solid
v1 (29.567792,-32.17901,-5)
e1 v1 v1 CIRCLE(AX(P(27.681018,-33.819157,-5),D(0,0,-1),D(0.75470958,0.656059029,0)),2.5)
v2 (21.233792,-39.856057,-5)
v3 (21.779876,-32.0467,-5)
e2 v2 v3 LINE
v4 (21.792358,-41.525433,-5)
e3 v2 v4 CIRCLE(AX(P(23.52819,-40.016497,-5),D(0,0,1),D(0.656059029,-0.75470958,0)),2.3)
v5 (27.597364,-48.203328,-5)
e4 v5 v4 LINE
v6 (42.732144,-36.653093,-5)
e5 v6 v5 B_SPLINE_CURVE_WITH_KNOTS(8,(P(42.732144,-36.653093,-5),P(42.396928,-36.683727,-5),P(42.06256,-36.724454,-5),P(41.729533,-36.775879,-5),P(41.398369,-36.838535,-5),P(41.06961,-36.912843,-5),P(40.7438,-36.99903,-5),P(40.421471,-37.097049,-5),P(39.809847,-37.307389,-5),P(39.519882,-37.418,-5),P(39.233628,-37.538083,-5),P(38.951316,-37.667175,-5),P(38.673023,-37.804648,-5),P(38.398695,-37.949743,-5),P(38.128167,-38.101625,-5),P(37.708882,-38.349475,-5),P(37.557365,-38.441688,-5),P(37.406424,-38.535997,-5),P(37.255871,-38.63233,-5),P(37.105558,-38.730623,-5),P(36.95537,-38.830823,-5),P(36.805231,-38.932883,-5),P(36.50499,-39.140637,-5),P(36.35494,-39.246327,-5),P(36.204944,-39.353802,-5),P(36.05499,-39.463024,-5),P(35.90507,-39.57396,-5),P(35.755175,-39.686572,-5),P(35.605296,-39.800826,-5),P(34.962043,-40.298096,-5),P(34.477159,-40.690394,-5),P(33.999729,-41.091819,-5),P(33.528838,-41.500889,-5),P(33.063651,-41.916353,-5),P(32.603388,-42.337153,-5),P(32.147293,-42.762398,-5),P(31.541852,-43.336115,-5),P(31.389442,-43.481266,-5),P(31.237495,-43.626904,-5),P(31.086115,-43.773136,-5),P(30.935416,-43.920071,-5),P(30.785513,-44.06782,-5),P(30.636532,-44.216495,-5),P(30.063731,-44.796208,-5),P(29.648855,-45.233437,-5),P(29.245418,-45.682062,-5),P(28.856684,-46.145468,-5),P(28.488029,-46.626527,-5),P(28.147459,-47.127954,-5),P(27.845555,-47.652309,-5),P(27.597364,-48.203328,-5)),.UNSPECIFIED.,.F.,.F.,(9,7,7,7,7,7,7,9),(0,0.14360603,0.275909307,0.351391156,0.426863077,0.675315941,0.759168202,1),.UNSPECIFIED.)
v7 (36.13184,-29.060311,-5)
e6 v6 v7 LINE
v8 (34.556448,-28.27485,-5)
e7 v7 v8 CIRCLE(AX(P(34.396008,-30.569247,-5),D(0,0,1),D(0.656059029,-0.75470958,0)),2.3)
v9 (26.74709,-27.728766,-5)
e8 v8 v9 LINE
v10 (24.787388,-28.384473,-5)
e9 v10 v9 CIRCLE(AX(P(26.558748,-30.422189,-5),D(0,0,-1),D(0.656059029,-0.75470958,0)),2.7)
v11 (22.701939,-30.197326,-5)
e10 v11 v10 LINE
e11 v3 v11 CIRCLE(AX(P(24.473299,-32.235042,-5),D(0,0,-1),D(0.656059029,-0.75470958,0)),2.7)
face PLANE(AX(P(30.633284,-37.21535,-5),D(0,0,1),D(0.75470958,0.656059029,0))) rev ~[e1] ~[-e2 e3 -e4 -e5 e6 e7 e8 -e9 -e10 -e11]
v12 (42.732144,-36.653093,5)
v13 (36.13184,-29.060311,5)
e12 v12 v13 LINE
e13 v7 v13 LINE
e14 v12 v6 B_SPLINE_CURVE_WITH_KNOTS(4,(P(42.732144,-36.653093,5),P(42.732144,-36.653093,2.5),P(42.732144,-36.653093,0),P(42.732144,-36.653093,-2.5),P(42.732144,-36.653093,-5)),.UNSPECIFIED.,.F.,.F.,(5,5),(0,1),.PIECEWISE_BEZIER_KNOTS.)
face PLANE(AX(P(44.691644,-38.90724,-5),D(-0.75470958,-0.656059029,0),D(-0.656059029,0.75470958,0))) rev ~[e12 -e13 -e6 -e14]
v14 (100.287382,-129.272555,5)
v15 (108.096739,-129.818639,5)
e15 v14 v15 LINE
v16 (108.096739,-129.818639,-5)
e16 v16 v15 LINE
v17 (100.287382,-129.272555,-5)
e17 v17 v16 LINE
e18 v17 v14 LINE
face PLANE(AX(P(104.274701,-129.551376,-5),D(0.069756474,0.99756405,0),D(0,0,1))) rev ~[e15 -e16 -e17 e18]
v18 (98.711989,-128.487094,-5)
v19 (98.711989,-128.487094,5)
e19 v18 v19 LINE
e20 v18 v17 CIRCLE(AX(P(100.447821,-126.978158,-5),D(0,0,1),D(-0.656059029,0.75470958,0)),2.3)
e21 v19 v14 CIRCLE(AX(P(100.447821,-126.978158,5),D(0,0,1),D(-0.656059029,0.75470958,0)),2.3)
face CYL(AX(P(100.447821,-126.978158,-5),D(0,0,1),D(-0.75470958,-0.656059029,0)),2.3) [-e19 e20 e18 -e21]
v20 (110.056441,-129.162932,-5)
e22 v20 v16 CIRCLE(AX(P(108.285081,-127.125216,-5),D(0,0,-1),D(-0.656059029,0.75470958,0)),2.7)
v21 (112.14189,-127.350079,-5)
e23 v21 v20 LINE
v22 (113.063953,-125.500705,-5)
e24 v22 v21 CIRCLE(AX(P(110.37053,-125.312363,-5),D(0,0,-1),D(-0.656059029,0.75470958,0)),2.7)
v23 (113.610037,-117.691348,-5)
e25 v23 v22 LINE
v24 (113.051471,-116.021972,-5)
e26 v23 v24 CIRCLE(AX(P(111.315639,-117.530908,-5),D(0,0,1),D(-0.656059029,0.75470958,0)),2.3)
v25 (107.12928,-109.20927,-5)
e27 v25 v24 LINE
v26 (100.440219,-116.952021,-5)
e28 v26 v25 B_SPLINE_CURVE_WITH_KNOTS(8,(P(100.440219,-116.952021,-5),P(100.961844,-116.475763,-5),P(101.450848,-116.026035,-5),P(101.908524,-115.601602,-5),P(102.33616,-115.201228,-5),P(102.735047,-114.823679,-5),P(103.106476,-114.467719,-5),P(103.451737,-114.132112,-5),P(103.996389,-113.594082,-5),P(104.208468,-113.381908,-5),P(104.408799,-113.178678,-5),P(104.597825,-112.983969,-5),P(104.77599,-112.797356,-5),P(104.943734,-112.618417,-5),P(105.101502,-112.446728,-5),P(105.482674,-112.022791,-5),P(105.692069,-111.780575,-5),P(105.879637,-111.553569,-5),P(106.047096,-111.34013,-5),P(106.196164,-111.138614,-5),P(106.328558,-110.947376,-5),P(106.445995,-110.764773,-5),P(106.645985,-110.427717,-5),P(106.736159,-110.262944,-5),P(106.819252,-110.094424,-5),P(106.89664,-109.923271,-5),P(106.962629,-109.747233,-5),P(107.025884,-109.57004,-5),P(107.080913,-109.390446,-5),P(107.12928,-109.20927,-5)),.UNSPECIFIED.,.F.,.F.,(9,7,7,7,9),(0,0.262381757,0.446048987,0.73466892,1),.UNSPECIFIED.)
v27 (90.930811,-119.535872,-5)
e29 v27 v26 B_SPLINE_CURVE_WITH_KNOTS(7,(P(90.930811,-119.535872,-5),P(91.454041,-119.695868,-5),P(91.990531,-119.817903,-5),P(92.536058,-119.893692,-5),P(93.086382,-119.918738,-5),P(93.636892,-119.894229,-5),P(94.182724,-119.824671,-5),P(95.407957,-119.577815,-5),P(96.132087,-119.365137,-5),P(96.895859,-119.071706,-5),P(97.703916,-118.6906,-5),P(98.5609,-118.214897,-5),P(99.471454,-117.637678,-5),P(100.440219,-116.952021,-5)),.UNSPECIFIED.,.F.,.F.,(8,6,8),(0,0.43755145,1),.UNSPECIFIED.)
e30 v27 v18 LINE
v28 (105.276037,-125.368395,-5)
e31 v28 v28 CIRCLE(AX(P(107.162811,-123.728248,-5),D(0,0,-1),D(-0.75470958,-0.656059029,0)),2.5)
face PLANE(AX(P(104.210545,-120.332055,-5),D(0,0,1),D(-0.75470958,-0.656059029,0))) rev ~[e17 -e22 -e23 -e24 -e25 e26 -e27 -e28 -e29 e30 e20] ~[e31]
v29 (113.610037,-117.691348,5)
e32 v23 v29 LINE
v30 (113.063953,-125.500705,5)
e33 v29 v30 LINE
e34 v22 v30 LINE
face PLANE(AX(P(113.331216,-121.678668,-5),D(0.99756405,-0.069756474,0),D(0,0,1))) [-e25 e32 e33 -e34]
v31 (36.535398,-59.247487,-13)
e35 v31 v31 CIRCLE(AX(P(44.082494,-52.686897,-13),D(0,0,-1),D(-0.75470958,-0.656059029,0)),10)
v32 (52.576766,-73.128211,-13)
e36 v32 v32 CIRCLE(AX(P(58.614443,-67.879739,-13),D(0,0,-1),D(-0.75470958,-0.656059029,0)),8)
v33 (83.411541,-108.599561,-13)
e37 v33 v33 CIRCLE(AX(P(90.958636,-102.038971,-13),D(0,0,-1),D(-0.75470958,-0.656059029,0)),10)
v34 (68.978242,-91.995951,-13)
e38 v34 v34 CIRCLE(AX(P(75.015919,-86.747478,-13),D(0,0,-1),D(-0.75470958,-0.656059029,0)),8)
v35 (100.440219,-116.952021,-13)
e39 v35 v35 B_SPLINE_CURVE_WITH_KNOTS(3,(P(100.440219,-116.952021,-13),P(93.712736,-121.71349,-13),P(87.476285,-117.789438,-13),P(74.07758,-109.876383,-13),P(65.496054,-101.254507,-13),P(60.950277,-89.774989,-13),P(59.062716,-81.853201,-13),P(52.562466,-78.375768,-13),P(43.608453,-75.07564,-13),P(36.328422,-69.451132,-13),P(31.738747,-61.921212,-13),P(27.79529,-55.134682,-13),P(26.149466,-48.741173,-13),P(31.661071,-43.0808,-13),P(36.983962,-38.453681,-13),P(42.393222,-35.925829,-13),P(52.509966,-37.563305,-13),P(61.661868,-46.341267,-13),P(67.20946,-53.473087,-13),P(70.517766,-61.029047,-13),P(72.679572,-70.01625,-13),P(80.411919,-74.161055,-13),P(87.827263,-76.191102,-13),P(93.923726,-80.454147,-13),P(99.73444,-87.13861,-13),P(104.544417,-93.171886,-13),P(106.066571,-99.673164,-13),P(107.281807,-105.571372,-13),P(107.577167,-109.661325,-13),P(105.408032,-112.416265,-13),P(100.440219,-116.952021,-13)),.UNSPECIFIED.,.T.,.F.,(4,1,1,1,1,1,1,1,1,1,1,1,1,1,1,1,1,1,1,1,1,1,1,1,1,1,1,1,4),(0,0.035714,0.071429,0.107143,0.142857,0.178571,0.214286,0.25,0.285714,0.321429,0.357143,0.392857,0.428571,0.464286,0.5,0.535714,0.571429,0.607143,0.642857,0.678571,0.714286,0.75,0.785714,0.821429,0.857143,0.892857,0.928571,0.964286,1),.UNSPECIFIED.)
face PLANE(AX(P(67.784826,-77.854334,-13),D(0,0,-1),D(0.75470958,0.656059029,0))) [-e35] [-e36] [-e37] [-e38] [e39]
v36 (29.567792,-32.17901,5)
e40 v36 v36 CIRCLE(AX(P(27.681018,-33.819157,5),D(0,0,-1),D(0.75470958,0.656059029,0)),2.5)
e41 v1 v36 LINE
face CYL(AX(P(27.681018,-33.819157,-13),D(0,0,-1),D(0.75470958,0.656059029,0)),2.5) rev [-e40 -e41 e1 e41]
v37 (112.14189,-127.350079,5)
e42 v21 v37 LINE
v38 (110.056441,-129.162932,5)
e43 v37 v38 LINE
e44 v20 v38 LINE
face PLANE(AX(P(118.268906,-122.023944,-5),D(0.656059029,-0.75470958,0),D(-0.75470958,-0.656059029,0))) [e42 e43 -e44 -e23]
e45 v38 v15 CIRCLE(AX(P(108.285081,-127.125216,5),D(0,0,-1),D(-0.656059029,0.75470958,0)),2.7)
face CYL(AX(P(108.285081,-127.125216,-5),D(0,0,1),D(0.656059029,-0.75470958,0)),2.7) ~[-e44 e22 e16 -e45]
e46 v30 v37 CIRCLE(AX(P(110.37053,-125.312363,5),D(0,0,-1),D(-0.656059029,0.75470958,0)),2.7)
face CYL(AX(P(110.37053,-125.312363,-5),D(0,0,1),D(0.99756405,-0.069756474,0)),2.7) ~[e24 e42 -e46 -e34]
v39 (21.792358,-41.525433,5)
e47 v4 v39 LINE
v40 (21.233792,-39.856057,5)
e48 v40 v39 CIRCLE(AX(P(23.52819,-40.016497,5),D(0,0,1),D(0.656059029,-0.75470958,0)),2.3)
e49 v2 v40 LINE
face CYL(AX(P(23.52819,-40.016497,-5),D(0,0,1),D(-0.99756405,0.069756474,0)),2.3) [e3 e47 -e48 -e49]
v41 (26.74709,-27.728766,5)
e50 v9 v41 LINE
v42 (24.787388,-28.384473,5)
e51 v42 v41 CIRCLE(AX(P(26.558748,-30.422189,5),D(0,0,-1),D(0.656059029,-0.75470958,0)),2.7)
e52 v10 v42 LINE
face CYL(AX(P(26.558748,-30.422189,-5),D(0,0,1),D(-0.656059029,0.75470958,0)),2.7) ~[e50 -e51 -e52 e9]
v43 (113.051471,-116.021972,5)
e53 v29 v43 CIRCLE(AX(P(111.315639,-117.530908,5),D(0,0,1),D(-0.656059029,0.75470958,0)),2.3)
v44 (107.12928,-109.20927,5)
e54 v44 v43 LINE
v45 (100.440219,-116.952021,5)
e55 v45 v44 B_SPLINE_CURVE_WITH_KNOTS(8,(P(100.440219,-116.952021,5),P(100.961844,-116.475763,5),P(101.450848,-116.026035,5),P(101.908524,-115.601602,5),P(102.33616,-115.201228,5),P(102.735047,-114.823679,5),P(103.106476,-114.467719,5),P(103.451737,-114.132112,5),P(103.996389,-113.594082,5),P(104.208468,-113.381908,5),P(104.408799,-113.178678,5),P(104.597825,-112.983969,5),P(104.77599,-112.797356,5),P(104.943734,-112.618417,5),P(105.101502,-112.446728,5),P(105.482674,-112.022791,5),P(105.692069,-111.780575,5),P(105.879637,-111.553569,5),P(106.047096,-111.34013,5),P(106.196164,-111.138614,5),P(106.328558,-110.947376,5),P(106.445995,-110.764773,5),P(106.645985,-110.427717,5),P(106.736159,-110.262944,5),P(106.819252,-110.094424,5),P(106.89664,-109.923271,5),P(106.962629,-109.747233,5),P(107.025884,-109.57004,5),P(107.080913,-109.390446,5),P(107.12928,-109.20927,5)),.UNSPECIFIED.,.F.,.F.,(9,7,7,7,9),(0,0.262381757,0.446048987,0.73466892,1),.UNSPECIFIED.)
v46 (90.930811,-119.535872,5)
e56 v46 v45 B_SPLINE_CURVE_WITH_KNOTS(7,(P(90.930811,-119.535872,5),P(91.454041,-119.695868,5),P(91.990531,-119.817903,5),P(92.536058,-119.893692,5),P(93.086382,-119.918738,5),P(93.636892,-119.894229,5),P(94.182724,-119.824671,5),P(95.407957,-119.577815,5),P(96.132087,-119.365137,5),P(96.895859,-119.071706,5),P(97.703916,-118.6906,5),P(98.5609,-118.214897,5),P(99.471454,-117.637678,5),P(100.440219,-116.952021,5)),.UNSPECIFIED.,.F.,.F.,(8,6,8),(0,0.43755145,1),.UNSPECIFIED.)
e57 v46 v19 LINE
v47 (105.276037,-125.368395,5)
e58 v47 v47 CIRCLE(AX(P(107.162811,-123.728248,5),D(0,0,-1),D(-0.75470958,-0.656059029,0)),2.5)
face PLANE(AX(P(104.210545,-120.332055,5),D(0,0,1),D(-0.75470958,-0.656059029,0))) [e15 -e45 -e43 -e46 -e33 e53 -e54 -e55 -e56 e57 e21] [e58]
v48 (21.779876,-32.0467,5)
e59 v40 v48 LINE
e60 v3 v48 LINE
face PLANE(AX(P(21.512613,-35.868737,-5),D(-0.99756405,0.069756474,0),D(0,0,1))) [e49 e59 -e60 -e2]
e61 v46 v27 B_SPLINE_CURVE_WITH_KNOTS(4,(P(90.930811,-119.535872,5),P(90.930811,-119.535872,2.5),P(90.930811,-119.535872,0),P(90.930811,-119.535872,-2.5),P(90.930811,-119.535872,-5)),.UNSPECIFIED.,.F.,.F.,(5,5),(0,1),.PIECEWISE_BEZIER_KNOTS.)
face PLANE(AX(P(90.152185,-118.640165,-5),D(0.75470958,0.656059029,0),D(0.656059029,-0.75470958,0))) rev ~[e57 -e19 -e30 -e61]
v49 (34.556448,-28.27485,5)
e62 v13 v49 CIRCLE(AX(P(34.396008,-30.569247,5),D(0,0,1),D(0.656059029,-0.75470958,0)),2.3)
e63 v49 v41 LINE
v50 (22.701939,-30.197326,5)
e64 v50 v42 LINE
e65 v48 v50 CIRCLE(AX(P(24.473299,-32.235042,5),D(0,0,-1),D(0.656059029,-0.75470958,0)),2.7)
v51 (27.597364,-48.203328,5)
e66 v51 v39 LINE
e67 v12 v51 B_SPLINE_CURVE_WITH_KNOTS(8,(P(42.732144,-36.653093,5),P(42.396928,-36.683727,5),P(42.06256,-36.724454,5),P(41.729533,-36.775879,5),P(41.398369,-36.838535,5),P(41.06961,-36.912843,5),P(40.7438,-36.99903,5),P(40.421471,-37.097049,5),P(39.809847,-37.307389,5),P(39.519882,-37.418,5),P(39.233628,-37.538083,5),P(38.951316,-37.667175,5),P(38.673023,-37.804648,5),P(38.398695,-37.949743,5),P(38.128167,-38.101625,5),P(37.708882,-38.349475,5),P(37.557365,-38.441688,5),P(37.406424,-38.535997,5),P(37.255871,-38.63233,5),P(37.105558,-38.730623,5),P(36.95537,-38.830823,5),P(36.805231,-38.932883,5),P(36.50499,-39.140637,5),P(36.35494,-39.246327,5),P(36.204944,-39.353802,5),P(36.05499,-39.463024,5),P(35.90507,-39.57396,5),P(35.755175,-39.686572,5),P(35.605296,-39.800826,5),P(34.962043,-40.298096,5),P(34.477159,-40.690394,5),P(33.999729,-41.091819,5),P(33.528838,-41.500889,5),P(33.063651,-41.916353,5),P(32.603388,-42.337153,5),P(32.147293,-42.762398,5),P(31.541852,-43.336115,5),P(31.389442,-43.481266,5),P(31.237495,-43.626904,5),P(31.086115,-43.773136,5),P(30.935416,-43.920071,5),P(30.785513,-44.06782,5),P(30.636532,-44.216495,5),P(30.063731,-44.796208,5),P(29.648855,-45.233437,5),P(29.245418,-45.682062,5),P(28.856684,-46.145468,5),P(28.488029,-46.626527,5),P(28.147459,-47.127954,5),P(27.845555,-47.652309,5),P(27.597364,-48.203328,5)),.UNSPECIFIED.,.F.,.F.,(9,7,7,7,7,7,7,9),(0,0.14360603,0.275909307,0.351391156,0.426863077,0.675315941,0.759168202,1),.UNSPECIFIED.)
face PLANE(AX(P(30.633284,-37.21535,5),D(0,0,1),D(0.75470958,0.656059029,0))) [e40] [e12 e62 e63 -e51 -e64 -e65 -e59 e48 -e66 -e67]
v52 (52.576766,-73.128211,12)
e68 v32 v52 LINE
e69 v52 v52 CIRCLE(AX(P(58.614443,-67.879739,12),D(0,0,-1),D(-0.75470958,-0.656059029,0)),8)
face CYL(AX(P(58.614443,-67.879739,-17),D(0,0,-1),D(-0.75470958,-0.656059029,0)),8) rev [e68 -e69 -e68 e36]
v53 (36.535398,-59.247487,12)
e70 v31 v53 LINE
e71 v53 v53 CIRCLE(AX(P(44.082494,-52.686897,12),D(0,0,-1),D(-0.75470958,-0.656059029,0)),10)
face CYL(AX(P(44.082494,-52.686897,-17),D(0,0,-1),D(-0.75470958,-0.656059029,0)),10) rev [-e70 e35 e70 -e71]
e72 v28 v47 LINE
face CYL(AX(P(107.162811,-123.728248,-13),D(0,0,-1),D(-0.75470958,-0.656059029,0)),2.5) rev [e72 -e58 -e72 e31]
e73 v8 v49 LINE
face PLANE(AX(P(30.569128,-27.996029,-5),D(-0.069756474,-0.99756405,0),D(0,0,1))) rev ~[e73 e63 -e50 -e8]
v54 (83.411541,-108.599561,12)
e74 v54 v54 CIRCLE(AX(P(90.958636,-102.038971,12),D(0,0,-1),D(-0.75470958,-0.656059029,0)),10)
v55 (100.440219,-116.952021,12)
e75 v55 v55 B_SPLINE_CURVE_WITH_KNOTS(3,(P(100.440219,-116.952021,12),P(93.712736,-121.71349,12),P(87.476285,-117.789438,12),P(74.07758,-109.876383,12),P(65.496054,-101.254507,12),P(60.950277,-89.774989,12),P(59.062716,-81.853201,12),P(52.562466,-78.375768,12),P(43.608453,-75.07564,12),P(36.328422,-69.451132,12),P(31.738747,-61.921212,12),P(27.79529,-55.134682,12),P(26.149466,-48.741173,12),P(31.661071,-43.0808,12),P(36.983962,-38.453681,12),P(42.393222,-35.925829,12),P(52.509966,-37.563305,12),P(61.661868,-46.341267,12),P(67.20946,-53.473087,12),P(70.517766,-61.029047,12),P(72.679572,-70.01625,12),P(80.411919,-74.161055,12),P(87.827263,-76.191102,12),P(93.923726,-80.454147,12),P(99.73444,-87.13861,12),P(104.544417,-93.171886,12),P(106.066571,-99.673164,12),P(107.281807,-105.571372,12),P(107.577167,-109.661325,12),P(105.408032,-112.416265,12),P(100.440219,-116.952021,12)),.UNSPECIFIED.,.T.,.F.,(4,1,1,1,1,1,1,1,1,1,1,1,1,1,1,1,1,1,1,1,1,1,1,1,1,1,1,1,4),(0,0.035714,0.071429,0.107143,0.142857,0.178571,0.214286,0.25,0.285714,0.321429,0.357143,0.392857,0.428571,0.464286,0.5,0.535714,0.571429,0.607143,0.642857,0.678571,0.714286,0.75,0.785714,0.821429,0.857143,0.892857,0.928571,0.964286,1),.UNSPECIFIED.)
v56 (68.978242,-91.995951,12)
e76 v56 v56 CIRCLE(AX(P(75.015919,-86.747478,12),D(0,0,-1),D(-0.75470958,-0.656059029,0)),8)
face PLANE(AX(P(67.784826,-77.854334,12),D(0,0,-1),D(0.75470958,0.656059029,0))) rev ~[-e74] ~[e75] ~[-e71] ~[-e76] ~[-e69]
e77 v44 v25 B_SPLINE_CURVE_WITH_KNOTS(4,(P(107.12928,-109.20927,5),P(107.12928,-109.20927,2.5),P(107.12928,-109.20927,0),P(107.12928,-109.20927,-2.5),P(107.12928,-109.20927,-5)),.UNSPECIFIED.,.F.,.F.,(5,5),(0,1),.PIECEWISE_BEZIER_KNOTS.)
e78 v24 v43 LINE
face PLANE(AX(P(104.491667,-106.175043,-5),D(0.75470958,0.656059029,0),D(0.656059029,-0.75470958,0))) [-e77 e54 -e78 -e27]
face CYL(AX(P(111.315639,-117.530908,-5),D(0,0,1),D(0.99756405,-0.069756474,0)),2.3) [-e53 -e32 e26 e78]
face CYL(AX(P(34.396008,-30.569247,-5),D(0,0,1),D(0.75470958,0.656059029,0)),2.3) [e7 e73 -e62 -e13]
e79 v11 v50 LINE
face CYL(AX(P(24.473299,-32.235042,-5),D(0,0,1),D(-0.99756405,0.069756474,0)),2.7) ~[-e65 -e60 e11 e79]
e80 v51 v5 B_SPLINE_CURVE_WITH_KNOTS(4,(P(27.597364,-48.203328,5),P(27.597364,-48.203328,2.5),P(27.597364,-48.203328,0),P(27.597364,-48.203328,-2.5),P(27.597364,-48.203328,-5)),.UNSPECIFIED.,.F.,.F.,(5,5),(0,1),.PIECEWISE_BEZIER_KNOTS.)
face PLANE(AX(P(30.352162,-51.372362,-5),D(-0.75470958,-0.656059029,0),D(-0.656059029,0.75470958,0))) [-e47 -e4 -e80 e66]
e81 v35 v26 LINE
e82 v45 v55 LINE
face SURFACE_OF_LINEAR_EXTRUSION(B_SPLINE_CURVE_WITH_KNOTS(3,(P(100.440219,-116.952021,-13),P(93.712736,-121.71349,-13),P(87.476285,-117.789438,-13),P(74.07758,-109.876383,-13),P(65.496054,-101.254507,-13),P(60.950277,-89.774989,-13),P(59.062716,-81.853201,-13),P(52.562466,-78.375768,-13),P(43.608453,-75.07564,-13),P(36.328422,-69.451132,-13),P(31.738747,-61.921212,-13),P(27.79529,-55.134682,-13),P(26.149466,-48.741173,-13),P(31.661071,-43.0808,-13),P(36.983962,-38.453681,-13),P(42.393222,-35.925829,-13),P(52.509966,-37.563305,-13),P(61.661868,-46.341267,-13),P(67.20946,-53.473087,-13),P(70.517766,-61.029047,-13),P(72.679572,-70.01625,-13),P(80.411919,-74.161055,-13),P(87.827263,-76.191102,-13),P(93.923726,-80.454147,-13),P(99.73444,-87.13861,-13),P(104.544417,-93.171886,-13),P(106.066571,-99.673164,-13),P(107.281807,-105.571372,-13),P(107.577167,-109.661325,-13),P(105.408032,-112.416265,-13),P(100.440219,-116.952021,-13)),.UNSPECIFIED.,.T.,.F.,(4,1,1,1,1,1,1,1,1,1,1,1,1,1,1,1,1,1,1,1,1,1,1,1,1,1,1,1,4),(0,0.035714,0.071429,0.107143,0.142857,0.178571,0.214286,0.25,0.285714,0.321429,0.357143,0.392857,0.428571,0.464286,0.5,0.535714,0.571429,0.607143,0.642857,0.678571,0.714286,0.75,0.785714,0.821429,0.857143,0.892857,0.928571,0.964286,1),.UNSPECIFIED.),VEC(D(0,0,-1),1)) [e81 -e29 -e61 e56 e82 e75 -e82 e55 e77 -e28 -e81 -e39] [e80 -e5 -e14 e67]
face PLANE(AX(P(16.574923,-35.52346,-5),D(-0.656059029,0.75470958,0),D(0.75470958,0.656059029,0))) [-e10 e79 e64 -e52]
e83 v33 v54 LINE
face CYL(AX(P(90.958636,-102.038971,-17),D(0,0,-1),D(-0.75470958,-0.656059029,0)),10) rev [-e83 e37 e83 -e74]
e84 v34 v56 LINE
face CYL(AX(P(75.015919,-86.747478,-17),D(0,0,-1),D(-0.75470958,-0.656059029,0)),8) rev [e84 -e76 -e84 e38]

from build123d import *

# Parameters (mm, degrees)
CYLINDER034_R             = 8
CYLINDER034_DEPTH         = 36
CYLINDER035_R             = 8
CYLINDER035_DEPTH         = 36
CYLINDER036_R             = 10
CYLINDER036_DEPTH         = 36
CYLINDER033_R             = 10
CYLINDER033_DEPTH         = 36
CYLINDER031_R             = 2.5
CYLINDER031_DEPTH         = 26
BOX011_W                  = 19
BOX011_H                  = 21
BOX011_DEPTH              = 10
CHAMFER002_SIZE           = 7
FILLET002_R               = 2.7
FILLET003_R               = 2.3
EXTRUDE001_DEPTH          = 25
CYLINDER032_R             = 2.5
CYLINDER032_DEPTH         = 26
BOX012_W                  = 19
BOX012_H                  = 21
BOX012_DEPTH              = 10
CHAMFER003_SIZE           = 7
FILLET005_R               = 2.7
FILLET004_R               = 2.3
FILLET004_PLACEMENT_ANGLE = 180
CUT033_PLACEMENT_ANGLE    = 221


with BuildPart() as cylinder034:
    # Cylinder034 → Cylinder034 (new body)
    with BuildSketch(Plane(origin=(15, -126, -17), x_dir=(1, 0, 0), z_dir=(0, 0, 1))):
        Circle(CYLINDER034_R)
    extrude(amount=CYLINDER034_DEPTH)


with BuildPart() as cylinder035:
    # Cylinder035 → Cylinder035 (new body)
    with BuildSketch(Plane(origin=(15, -151, -17), x_dir=(1, 0, 0), z_dir=(0, 0, 1))):
        Circle(CYLINDER035_R)
    extrude(amount=CYLINDER035_DEPTH)


with BuildPart() as cylinder036:
    # Cylinder036 → Cylinder036 (new body)
    with BuildSketch(Plane(origin=(16, -172, -17), x_dir=(1, 0, 0), z_dir=(0, 0, 1))):
        Circle(CYLINDER036_R)
    extrude(amount=CYLINDER036_DEPTH)


with BuildPart() as cylinder033:
    # Cylinder033 → Cylinder033 (new body)
    with BuildSketch(Plane(origin=(13, -104, -17), x_dir=(1, 0, 0), z_dir=(0, 0, 1))):
        Circle(CYLINDER033_R)
    extrude(amount=CYLINDER033_DEPTH)


with BuildPart() as cylinder031:
    # Cylinder031 → Cylinder031 (new body)
    with BuildSketch(Plane(origin=(15, -77, -13), x_dir=(1, 0, 0), z_dir=(0, 0, 1))):
        Circle(CYLINDER031_R)
    extrude(amount=CYLINDER031_DEPTH)


with BuildPart() as fillet003:
    # Box011 → Box011 (new body)
    with BuildSketch(Plane(origin=(6, -92, -5), x_dir=(1, 0, 0), z_dir=(0, 0, 1))):
        with Locations((9.5, 10.5)):
            Rectangle(BOX011_W, BOX011_H)
    extrude(amount=BOX011_DEPTH)

    # Chamfer002
    chamfer002_edges = [fillet003.edges().sort_by_distance(p)[0] for p in [
        (6, -71, 0),
        (25, -71, 0),
    ]]
    chamfer(chamfer002_edges, length=CHAMFER002_SIZE)

    # Fillet002
    fillet002_edges = [fillet003.edges().sort_by_distance(p)[0] for p in [
        (13, -71, 0),
        (18, -71, 0),
    ]]
    fillet(fillet002_edges, radius=FILLET002_R)


with BuildPart() as fillet003_1:
    # Fillet002 placement: moved
    add(fillet003.part.moved(Location((-0.5, 0, 0))))

    # Cut028: cut Cylinder031
    add(cylinder031.part, mode=Mode.SUBTRACT)

    # Fillet003
    fillet003_edges = [fillet003_1.edges().sort_by_distance(p)[0] for p in [
        (5.5, -78, 0),
        (24.5, -78, 0),
    ]]
    fillet(fillet003_edges, radius=FILLET003_R)


with BuildPart() as extrude001:
    # Sketch001 → Extrude001 (new body)
    with BuildSketch(Plane.XY):
        with BuildLine():
            add(Edge.make_bspline(
                [(15.628, -86.5245), (23.8291, -87.3446), (25.9614, -94.3976), (30.8821, -109.16), (31.7022, -121.297), (27.6017, -132.943), (23.8291, -140.16), (26.4535, -147.049), (31.0461, -155.414), (32.8504, -164.435), (31.3742, -173.129), (29.898, -180.838), (26.9456, -186.743), (19.0724, -187.399), (12.0195, -187.399), (6.27866, -185.758), (-0.282263, -177.885), (-1.43043, -165.256), (-0.938356, -156.234), (1.52199, -148.361), (5.78659, -140.16), (2.67015, -131.959), (-1.59445, -125.562), (-3.3987, -118.345), (-3.3987, -109.488), (-3.07065, -101.779), (0.045788, -95.8738), (2.99821, -90.6251), (5.45855, -87.3446), (8.90302, -86.6885), (15.628, -86.5245)],
                knots=[0, 0, 0, 0, 0.035714, 0.071429, 0.107143, 0.142857, 0.178571, 0.214286, 0.25, 0.285714, 0.321429, 0.357143, 0.392857, 0.428571, 0.464286, 0.5, 0.535714, 0.571429, 0.607143, 0.642857, 0.678571, 0.714286, 0.75, 0.785714, 0.821429, 0.857143, 0.892857, 0.928571, 0.964286, 1, 1, 1, 1], degree=3))
        make_face()
    extrude(amount=EXTRUDE001_DEPTH)


with BuildPart() as extrude001_1:
    # Extrude001 placement: moved
    add(extrude001.part.moved(Location((0, 0, -13))))


with BuildPart() as cylinder032:
    # Cylinder032 → Cylinder032 (new body)
    with BuildSketch(Plane(origin=(15, -77, -13), x_dir=(1, 0, 0), z_dir=(0, 0, 1))):
        Circle(CYLINDER032_R)
    extrude(amount=CYLINDER032_DEPTH)


with BuildPart() as cut033:
    # Box012 → Box012 (new body)
    with BuildSketch(Plane(origin=(6, -92, -5), x_dir=(1, 0, 0), z_dir=(0, 0, 1))):
        with Locations((9.5, 10.5)):
            Rectangle(BOX012_W, BOX012_H)
    extrude(amount=BOX012_DEPTH)

    # Chamfer003
    chamfer003_edges = [cut033.edges().sort_by_distance(p)[0] for p in [
        (6, -71, 0),
        (25, -71, 0),
    ]]
    chamfer(chamfer003_edges, length=CHAMFER003_SIZE)

    # Fillet005
    fillet005_edges = [cut033.edges().sort_by_distance(p)[0] for p in [
        (13, -71, 0),
        (18, -71, 0),
    ]]
    fillet(fillet005_edges, radius=FILLET005_R)


with BuildPart() as cut033_1:
    # Fillet005 placement: moved
    add(cut033.part.moved(Location((-0.5, 0, 0))))

    # Cut029: cut Cylinder032
    add(cylinder032.part, mode=Mode.SUBTRACT)

    # Fillet004
    fillet004_edges = [cut033_1.edges().sort_by_distance(p)[0] for p in [
        (5.5, -78, 0),
        (24.5, -78, 0),
    ]]
    fillet(fillet004_edges, radius=FILLET004_R)


with BuildPart() as cut033_2:
    # Fillet004 placement: moved
    add(cut033_1.part.moved(Location((31, -274, 0))).rotate(Axis((31, -274, 0), (0, 0, 1)), FILLET004_PLACEMENT_ANGLE))

    # Fusion015: union Fillet003, Extrude001
    add(fillet003_1.part)
    add(extrude001_1.part)

    # Cut030: cut Cylinder033
    add(cylinder033.part, mode=Mode.SUBTRACT)

    # Cut031: cut Cylinder036
    add(cylinder036.part, mode=Mode.SUBTRACT)

    # Cut032: cut Cylinder035
    add(cylinder035.part, mode=Mode.SUBTRACT)

    # Cut033: cut Cylinder034
    add(cylinder034.part, mode=Mode.SUBTRACT)


with BuildPart() as cut033_3:
    # Cut033 placement: moved
    add(cut033_2.part.moved(Location((169, -172, 0))).rotate(Axis((169, -172, 0), (0, 0, 1)), CUT033_PLACEMENT_ANGLE))


solid = cut033_3.part
